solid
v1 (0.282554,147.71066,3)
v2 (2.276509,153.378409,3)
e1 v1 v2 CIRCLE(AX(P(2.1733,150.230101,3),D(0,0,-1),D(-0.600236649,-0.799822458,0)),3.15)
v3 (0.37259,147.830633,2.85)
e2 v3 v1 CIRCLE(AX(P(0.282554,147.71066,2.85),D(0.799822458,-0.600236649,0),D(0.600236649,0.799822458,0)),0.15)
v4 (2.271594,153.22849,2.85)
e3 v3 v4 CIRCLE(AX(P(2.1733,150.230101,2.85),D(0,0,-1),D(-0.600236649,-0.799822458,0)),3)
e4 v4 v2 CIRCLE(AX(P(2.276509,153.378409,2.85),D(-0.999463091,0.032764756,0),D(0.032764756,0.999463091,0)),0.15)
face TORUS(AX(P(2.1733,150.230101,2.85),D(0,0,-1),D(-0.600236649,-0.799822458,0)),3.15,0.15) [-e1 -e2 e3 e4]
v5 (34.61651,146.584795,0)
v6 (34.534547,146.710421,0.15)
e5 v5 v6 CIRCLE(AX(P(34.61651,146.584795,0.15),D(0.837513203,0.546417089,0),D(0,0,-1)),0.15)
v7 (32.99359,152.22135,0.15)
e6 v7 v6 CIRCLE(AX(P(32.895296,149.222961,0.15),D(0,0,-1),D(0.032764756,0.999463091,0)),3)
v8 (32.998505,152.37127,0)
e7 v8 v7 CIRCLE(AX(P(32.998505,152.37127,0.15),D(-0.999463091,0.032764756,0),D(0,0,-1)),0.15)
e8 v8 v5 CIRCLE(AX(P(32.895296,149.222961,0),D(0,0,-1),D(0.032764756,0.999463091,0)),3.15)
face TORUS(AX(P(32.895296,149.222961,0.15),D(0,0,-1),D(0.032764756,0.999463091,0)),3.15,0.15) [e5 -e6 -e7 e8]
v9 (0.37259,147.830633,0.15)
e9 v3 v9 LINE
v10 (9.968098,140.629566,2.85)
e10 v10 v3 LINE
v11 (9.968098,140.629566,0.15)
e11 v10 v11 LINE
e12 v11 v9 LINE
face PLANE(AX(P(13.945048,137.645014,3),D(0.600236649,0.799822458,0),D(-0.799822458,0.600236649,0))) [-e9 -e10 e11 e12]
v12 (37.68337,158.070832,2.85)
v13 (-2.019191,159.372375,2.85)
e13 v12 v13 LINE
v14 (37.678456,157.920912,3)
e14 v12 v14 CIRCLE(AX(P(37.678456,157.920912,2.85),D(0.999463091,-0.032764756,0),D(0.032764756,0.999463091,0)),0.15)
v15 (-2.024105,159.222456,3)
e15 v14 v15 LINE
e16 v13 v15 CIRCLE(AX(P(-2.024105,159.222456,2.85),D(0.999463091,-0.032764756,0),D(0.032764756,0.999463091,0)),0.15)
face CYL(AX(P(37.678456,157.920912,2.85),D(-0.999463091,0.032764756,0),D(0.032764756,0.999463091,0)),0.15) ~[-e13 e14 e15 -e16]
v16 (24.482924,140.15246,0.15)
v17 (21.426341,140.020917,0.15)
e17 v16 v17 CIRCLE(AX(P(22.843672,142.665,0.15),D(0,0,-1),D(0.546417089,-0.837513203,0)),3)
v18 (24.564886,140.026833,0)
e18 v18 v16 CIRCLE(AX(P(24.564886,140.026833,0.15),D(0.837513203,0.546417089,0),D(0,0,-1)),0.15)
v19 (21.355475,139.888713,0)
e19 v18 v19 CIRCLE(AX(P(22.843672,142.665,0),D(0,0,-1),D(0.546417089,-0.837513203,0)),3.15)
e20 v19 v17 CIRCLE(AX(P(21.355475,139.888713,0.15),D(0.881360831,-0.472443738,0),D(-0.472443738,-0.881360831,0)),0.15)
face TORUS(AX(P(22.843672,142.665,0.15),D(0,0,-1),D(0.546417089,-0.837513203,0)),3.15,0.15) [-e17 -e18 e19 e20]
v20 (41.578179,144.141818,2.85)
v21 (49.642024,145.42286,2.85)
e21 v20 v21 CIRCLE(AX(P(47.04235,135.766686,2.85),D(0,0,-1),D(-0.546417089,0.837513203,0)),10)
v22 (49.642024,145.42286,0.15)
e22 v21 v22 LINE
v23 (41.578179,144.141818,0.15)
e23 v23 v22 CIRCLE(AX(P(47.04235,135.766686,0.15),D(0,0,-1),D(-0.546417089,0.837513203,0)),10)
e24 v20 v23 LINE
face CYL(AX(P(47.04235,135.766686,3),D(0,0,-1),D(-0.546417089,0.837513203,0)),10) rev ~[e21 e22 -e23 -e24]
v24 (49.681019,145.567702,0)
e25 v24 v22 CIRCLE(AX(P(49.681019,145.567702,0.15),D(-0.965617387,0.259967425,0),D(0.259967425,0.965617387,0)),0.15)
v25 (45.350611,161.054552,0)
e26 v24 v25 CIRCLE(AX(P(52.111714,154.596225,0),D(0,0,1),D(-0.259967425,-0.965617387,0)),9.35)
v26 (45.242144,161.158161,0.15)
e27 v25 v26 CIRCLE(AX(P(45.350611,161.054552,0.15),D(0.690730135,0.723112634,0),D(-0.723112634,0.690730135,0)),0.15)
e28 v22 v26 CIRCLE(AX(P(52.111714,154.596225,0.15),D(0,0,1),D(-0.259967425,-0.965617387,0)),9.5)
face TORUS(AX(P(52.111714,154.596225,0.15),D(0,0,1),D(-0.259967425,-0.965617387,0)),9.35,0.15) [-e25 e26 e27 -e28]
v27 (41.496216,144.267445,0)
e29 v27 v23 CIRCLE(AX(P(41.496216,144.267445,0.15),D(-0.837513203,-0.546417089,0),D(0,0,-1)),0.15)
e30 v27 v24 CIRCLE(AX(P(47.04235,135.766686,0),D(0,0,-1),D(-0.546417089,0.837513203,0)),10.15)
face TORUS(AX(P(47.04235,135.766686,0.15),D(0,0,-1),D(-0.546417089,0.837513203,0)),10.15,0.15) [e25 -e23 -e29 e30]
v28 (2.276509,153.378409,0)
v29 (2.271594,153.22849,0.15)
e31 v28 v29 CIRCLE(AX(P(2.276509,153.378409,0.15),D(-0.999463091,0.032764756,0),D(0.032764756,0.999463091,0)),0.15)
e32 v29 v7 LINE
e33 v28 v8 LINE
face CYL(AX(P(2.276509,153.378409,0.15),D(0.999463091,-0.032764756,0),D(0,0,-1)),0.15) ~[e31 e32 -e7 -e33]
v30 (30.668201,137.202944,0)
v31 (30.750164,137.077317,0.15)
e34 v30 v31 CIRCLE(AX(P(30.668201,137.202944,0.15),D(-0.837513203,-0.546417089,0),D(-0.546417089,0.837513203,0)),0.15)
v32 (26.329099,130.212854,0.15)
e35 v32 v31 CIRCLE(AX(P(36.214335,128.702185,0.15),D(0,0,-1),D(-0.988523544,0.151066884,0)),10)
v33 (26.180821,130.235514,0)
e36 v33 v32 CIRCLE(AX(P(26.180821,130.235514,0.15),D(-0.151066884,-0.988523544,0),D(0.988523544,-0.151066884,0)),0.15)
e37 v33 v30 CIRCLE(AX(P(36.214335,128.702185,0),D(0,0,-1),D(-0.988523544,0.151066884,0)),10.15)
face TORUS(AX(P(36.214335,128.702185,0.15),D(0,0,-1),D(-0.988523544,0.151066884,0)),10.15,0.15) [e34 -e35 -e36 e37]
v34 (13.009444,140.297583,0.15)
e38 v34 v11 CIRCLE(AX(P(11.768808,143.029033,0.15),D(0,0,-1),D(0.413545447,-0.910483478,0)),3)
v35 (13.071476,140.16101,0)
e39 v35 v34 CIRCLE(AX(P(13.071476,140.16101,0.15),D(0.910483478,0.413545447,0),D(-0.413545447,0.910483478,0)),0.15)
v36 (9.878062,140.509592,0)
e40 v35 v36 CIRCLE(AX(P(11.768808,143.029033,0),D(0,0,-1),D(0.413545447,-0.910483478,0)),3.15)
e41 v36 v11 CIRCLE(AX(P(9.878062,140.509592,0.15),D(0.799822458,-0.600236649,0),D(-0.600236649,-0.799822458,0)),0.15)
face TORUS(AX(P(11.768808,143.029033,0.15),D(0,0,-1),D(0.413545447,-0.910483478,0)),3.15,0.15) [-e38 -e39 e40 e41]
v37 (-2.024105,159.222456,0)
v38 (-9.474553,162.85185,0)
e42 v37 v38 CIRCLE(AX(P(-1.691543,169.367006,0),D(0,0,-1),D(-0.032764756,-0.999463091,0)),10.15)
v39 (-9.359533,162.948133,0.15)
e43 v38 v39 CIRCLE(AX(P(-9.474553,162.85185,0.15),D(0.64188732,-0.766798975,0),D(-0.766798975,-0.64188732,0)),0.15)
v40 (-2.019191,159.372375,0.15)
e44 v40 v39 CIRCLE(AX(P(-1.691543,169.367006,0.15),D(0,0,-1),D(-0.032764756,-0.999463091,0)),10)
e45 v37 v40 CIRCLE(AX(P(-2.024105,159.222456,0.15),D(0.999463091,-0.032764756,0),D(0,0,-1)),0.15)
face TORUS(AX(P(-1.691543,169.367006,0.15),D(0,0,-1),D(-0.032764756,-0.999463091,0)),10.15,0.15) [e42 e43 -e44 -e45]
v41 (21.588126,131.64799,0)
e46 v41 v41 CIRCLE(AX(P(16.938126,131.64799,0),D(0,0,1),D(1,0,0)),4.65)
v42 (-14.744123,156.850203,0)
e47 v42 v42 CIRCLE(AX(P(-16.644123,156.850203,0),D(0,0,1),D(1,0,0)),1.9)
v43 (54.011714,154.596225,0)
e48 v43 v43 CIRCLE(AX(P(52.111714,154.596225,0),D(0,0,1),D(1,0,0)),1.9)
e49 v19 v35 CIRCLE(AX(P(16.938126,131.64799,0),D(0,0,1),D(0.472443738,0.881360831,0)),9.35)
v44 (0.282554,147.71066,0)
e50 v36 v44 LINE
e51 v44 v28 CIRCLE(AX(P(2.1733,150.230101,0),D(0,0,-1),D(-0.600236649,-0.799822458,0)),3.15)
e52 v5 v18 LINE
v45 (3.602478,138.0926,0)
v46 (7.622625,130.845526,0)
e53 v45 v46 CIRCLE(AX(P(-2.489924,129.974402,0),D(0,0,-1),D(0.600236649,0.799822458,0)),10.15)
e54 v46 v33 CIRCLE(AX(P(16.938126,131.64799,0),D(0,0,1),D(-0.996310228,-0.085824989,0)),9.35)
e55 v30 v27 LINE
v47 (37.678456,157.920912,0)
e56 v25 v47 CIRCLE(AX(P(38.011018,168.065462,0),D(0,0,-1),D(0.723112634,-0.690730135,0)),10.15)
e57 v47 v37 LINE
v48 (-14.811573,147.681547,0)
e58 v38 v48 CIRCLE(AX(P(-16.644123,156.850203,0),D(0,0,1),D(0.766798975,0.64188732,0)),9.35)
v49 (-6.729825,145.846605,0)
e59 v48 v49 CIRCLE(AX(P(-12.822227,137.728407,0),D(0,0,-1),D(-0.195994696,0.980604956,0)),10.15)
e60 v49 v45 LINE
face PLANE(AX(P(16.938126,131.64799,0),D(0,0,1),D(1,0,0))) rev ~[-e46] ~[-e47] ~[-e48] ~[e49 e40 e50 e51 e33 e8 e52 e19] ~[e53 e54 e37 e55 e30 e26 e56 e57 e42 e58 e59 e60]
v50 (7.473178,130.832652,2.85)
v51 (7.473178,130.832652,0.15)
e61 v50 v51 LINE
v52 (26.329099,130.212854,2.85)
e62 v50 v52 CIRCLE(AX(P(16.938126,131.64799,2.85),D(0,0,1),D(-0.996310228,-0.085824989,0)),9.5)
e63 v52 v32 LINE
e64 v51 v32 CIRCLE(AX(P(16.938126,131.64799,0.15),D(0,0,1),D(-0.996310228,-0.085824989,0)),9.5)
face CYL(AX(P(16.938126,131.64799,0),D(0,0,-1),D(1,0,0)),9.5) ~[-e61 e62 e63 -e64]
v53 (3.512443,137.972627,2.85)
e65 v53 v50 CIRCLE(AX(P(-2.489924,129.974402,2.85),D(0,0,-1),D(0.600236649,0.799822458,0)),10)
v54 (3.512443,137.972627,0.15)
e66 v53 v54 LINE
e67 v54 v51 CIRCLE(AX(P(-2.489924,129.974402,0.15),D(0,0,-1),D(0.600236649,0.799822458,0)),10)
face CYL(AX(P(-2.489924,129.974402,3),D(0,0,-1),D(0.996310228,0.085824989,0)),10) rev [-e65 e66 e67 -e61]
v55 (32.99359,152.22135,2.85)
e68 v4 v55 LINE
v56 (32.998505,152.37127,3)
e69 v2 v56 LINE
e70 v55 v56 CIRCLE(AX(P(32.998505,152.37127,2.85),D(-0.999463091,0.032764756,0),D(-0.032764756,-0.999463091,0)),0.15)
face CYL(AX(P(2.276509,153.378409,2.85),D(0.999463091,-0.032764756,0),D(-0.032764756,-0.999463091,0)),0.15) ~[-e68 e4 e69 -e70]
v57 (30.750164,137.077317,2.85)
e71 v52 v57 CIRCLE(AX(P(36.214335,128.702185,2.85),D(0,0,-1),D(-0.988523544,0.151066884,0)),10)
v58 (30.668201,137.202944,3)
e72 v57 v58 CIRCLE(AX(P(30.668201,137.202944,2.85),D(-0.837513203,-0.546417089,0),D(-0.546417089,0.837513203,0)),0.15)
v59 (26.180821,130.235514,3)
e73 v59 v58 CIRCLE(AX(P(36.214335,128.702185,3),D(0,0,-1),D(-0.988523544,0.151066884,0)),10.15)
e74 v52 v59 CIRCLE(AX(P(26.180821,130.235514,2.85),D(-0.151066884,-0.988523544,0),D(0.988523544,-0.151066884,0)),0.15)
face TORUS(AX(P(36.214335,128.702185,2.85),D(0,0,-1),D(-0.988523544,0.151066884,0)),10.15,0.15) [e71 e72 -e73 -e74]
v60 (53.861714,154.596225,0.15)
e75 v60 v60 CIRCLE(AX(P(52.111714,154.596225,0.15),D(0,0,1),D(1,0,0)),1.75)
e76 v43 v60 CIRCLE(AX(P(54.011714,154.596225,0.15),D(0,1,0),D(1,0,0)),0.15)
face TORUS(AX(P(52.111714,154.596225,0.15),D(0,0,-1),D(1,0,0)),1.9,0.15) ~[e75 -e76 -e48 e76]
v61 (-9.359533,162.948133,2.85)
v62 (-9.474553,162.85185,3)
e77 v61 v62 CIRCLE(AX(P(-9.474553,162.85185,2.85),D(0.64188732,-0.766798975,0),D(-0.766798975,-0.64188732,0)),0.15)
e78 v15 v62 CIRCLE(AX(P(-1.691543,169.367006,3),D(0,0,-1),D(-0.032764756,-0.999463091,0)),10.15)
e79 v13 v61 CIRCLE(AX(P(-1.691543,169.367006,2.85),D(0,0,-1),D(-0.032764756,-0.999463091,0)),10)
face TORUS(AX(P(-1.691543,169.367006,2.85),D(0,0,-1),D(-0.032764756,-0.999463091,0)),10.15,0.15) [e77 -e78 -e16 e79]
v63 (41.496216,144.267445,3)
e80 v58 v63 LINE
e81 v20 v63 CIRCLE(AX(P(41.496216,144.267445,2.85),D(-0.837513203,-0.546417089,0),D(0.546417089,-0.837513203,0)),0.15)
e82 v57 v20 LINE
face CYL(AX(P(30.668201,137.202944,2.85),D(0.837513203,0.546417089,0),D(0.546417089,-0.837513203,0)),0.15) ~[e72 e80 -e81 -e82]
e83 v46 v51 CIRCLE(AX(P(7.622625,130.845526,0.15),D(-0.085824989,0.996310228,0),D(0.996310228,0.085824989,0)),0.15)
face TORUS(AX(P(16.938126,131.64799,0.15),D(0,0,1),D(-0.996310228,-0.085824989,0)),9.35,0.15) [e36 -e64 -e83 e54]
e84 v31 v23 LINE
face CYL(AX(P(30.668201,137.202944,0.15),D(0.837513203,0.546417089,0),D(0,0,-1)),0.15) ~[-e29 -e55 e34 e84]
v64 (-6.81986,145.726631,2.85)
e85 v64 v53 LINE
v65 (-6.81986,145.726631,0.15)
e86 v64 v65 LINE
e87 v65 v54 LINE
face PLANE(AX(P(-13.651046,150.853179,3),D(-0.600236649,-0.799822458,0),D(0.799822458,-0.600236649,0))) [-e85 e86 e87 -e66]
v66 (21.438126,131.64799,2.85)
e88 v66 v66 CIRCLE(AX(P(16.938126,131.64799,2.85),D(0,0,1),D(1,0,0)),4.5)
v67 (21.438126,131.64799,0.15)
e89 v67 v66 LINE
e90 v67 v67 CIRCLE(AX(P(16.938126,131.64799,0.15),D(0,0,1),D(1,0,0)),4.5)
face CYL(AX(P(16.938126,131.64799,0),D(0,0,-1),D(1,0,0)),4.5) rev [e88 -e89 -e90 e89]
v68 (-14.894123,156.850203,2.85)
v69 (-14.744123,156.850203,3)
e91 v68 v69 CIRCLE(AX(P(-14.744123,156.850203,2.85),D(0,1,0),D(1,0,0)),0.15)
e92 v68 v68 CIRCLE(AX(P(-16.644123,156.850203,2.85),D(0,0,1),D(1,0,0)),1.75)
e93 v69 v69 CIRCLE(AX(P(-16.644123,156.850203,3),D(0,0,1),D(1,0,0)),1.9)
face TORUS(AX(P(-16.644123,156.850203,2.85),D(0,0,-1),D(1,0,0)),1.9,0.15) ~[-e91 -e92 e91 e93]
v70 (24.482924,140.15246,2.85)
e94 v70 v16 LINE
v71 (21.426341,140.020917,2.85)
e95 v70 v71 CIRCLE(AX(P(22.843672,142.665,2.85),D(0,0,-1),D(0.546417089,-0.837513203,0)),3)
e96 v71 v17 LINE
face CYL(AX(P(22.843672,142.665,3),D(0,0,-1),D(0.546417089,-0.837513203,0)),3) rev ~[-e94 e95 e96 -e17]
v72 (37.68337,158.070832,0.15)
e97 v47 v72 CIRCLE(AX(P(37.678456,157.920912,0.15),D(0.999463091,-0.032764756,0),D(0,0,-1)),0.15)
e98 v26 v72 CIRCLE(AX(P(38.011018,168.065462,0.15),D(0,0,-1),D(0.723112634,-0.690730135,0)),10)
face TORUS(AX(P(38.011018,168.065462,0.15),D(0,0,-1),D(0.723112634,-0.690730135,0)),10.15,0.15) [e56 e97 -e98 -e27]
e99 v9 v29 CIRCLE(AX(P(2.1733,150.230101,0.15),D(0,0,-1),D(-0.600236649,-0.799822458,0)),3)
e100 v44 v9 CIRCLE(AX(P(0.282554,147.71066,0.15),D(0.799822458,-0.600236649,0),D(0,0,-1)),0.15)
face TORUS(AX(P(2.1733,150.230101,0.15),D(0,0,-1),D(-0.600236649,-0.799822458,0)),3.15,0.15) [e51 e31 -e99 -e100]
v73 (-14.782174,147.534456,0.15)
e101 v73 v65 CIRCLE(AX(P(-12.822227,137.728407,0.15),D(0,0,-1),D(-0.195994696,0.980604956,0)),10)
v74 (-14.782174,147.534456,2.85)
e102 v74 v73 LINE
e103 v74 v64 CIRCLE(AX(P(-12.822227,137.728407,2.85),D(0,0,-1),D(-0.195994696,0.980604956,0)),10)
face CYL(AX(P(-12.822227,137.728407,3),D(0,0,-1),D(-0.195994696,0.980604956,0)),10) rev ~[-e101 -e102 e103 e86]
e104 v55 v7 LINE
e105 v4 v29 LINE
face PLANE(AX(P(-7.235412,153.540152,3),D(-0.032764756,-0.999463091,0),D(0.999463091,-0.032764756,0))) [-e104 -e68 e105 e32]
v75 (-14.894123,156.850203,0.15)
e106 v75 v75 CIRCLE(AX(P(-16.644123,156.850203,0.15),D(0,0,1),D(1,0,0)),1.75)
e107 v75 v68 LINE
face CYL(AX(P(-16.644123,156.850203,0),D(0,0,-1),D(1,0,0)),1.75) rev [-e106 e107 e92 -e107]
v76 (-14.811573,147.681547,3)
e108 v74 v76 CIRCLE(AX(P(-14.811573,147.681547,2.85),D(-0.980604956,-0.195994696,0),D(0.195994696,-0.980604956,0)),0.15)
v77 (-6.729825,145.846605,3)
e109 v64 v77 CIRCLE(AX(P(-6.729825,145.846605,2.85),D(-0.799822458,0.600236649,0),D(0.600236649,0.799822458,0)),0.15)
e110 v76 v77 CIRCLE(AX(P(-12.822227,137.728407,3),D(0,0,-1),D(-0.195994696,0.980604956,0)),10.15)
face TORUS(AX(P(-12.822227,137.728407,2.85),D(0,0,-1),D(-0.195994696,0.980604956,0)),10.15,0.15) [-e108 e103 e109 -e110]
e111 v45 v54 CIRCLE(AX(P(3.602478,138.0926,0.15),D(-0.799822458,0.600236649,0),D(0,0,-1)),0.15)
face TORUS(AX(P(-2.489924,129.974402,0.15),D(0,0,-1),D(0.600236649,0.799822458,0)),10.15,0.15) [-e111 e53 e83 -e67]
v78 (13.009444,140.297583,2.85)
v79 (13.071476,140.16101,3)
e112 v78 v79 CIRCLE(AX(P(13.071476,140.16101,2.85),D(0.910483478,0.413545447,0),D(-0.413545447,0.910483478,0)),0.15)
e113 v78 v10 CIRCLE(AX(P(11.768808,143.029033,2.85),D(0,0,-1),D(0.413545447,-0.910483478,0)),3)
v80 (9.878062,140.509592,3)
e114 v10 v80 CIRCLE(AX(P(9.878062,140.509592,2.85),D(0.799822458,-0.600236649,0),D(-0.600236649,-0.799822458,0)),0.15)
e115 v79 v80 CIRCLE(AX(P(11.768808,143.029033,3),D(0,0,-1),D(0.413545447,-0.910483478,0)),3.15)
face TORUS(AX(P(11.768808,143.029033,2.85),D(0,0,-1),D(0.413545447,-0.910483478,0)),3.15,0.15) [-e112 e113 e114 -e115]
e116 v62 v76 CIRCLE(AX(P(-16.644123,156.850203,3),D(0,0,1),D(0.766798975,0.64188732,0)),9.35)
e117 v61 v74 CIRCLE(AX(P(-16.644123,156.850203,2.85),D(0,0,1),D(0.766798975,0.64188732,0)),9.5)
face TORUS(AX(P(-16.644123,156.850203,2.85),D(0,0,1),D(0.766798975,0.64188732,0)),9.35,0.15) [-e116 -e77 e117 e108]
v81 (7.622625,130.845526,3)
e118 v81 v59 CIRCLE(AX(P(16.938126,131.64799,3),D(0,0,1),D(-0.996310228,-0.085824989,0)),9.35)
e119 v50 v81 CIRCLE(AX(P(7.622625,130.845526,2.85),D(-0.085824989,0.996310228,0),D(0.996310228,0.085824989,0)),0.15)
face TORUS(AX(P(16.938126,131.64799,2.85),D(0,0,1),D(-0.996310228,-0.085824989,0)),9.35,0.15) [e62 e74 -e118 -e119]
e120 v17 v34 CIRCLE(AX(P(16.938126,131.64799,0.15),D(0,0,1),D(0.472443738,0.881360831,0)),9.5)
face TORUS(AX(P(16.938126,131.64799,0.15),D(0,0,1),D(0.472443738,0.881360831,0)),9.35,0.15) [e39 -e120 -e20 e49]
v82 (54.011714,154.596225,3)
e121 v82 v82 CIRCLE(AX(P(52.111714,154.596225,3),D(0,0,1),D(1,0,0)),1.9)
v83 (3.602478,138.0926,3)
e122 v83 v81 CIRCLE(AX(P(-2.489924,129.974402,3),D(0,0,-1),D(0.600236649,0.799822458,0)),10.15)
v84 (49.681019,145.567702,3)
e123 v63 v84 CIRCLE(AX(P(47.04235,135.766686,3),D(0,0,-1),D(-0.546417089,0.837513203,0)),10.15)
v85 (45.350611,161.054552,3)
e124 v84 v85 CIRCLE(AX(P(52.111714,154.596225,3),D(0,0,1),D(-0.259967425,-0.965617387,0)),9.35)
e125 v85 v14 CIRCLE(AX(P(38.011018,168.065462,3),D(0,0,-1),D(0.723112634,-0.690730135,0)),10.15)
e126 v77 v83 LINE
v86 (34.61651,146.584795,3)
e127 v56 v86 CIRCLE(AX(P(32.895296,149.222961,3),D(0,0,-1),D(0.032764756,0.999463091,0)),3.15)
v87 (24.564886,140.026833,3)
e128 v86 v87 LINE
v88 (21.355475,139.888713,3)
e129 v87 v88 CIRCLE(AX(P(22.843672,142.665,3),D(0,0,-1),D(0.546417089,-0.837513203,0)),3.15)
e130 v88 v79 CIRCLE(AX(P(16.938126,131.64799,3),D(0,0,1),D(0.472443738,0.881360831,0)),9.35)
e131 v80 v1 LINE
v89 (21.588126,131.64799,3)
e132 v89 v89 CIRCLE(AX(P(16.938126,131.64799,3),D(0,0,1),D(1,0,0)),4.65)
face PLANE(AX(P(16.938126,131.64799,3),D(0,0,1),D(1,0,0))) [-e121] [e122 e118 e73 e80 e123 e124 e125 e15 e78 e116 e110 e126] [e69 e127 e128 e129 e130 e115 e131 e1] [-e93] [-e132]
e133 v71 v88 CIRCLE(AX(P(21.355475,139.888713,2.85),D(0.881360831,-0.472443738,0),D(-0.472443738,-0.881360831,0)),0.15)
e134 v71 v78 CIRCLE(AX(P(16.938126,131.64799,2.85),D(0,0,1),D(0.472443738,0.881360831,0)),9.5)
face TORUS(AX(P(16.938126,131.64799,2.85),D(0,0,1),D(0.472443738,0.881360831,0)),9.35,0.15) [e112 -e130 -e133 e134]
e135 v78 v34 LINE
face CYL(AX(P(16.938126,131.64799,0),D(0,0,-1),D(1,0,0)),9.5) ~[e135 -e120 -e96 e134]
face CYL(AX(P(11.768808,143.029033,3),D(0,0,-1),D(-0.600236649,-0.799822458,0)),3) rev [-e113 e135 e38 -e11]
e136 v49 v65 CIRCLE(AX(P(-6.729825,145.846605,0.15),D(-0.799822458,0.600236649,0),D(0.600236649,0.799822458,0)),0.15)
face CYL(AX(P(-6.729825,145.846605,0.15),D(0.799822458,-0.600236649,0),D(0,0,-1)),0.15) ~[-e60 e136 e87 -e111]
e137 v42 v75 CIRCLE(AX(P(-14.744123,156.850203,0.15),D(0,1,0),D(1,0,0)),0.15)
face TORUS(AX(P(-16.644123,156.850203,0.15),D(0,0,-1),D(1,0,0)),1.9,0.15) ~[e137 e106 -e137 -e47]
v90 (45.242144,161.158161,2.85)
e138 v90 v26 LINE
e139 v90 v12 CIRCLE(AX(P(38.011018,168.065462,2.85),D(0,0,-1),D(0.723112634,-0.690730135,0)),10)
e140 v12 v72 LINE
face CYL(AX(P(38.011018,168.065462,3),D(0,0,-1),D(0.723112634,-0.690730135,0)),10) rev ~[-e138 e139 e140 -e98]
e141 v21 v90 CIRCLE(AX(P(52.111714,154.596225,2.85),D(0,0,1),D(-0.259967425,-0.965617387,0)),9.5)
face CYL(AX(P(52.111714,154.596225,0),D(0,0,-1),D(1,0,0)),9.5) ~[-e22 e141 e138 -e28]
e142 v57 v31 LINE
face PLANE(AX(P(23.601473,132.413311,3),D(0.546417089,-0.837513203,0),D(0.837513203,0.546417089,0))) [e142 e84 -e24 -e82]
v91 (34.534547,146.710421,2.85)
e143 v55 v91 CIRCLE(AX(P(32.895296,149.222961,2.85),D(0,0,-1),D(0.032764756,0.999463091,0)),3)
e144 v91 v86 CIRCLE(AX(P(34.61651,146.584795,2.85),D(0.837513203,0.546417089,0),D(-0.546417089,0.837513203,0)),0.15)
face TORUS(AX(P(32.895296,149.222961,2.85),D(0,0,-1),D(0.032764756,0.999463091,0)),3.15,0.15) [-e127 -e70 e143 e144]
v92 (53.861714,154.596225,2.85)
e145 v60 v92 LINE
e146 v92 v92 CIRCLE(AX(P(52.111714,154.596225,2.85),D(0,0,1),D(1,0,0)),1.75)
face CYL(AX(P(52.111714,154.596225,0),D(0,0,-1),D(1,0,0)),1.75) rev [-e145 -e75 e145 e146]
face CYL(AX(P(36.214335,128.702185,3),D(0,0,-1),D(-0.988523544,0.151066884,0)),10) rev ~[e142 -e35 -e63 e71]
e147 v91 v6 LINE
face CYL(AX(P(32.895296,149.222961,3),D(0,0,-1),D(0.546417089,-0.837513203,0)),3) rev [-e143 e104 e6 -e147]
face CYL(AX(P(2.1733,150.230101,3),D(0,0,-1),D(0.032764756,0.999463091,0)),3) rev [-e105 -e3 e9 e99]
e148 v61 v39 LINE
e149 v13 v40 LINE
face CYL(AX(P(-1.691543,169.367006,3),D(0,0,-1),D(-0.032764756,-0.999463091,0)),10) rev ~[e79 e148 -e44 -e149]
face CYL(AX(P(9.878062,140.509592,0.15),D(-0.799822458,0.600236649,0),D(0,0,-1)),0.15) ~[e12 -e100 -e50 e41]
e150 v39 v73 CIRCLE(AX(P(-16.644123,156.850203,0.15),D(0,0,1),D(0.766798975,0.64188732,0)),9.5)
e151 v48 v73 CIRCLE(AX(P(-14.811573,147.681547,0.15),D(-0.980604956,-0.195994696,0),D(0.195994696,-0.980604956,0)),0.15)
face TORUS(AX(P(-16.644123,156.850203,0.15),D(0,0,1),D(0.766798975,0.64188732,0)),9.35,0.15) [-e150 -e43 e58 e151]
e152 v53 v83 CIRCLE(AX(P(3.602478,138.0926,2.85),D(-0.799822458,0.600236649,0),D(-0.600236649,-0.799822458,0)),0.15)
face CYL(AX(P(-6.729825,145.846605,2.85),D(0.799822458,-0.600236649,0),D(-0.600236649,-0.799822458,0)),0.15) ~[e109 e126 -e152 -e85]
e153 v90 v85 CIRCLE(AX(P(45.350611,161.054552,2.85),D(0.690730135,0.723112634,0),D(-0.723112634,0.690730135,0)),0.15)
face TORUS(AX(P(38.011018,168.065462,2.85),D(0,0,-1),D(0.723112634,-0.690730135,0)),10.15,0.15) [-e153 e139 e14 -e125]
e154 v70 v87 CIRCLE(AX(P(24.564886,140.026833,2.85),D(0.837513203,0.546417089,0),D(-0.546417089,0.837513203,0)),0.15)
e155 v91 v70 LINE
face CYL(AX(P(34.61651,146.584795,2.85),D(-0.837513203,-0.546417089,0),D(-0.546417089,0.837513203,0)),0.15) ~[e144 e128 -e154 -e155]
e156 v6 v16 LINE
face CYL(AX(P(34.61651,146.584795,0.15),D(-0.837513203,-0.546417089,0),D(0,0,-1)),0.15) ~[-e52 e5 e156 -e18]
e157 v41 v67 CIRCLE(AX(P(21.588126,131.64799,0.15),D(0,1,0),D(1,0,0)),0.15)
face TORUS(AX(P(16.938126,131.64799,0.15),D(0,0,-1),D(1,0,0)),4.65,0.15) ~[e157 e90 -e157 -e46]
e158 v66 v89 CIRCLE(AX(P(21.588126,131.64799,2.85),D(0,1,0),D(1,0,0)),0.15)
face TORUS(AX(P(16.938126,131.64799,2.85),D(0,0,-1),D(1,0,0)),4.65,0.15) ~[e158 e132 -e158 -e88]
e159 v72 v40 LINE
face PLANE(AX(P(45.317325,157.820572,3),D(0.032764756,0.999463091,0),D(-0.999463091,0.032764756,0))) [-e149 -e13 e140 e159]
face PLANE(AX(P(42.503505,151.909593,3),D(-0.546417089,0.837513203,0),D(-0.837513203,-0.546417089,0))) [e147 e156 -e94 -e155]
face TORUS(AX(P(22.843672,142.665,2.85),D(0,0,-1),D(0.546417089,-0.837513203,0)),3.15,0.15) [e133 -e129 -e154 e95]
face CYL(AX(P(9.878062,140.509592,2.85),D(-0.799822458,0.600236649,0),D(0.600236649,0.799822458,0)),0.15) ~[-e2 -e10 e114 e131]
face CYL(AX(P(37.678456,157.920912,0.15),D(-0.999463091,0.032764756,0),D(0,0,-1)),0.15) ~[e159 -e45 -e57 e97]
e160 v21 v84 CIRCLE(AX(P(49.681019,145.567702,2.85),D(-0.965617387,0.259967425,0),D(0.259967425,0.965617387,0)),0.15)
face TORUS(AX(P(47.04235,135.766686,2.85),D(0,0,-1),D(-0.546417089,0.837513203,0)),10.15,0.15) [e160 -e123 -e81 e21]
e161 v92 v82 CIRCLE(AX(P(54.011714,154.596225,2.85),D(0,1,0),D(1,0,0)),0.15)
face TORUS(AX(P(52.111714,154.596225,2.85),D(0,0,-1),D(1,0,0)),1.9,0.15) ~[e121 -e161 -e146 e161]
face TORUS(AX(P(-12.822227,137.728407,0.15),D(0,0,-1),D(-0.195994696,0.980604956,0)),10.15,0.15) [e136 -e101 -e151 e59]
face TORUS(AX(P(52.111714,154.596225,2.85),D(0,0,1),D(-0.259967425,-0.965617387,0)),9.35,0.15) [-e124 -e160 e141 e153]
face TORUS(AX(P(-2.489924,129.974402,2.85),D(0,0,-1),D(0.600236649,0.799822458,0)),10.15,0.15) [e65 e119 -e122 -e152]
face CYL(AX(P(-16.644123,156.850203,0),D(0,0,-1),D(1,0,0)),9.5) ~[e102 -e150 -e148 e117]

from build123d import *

# Parameters (mm, degrees)
SKETCH1_R             = 9.5
SKETCH1_R_2           = 4.5
BOSS_EXTRUDE1_DEPTH   = 3
SKETCH1_R_3           = 1.75
BOSS_EXTRUDE1_2_DEPTH = 3
BOSS_EXTRUDE1_3_DEPTH = 3
EXTRUDE_THIN1_DEPTH   = 3
FILLET1_R             = 3
FILLET2_R             = 10
FILLET3_R             = 0.15


with BuildPart() as part:
    # Sketch1 → Boss-Extrude1 (new body)
    with BuildSketch(Plane.XY):
        with Locations((16.938125623, 131.647989579)):
            Circle(SKETCH1_R)
        with Locations((16.938125623, 131.647989579)):
            Circle(SKETCH1_R_2, mode=Mode.SUBTRACT)
    extrude(amount=BOSS_EXTRUDE1_DEPTH)



with BuildPart() as body_2:
    # Sketch1 → Boss-Extrude1 2 (new body)
    with BuildSketch(Plane.XY):
        with Locations((52.111714386, 154.596224799)):
            Circle(SKETCH1_R)
        with Locations((52.111714386, 154.596224799)):
            Circle(SKETCH1_R_3, mode=Mode.SUBTRACT)
    extrude(amount=BOSS_EXTRUDE1_2_DEPTH)


with BuildPart() as body_3:
    # Sketch1 → Boss-Extrude1 3 (new body)
    with BuildSketch(Plane.XY):
        with Locations((-16.644123116, 156.850203209)):
            Circle(SKETCH1_R)
        with Locations((-16.644123116, 156.850203209)):
            Circle(SKETCH1_R_3, mode=Mode.SUBTRACT)
    extrude(amount=BOSS_EXTRUDE1_3_DEPTH)


with BuildPart() as part_1:
    add(part.part)

    add(body_2.part)  # Extrude-Thin1 merges body 2

    add(body_3.part)  # Extrude-Thin1 merges body 3
    # Sketch2 → Extrude-Thin1 (add)
    with BuildSketch(Plane.XY.offset(3)):
        Polygon((45.317324912, 157.820572492), (-9.653145107, 159.622634064), (-9.849733642, 153.625855517), (45.120736377, 151.823793944), align=None)
        Polygon((13.945048076, 137.645014029), (-10.049625673, 155.652113509), (-13.651045569, 150.853178759), (10.34362818, 132.84607928), align=None)
        Polygon((23.601473229, 132.413311247), (48.726869314, 148.805823914), (45.448366781, 153.830903131), (20.322970695, 137.438390464), align=None)
    extrude(amount=-EXTRUDE_THIN1_DEPTH)

    # Fillet1
    fillet1_edges = [part_1.edges().sort_by_distance(p)[0] for p in [
        (11.52933336, 139.457916996, 1.5),
        (-7.235411743, 153.540151883, 1.5),
        (22.848116349, 139.085866268, 1.5),
        (42.503505286, 151.909592948, 1.5),
    ]]
    fillet(fillet1_edges, radius=FILLET1_R)

    # Fillet2
    fillet2_edges = [part_1.edges().sort_by_distance(p)[0] for p in [
        (7.927913464, 134.658982246, 1.5),
        (-11.235330852, 149.040275793, 1.5),
        (-7.53679029, 159.553254965, 1.5),
        (43.200970095, 157.889951591, 1.5),
        (46.201723661, 147.15834811, 1.5),
        (26.126618882, 134.060787051, 1.5),
    ]]
    fillet(fillet2_edges, radius=FILLET2_R)

    # Fillet3
    fillet3_edges = [part_1.edges().sort_by_distance(p)[0] for p in [
        (29.508735537, 143.431440922, 3),
        (29.508735537, 143.431440922, 0),
        (17.250224022, 141.142861595, 0),
        (17.250224022, 141.142861595, 3),
        (5.170343636, 144.230099429, 0),
        (5.170343636, 144.230099429, 3),
        (17.632592176, 152.7249201, 3),
        (17.632592176, 152.7249201, 0),
        (22.972660764, 139.667774248, 3),
        (22.972660764, 139.667774248, 0),
        (11.443271365, 140.046747653, 3),
        (11.443271365, 140.046747653, 0),
        (35.78447434, 150.030828409, 0),
        (35.78447434, 150.030828409, 3),
        (-0.656677204, 151.225706459, 3),
        (-0.656677204, 151.225706459, 0),
        (17.832089903, 158.721603278, 3),
        (17.832089903, 158.721603278, 0),
        (61.260778541, 157.154471284, 3),
        (61.260778541, 157.154471284, 0),
        (36.164171271, 140.609567581, 0),
        (36.164171271, 140.609567581, 3),
        (16.626027225, 122.153117564, 0),
        (16.626027225, 122.153117564, 3),
        (-1.653708694, 141.84962902, 0),
        (-1.653708694, 141.84962902, 3),
        (-25.605716427, 160.002955234, 3),
        (-25.605716427, 160.002955234, 0),
        (41.79220908, 158.80789286, 0),
        (41.79220908, 158.80789286, 3),
        (45.473400169, 145.642838736, 0),
        (45.473400169, 145.642838736, 3),
        (27.807118638, 134.116861482, 3),
        (27.807118638, 134.116861482, 0),
        (6.254723559, 134.825293147, 3),
        (6.254723559, 134.825293147, 0),
        (-10.608102178, 147.48020914, 3),
        (-10.608102178, 147.48020914, 0),
        (-6.07093402, 160.376959505, 0),
        (-6.07093402, 160.376959505, 3),
        (-18.394123116, 156.850203209, 0),
        (-18.394123116, 156.850203209, 3),
        (12.438125623, 131.647989579, 0),
        (12.438125623, 131.647989579, 3),
        (50.361714386, 154.596224799, 0),
        (50.361714386, 154.596224799, 3),
    ]]
    fillet(fillet3_edges, radius=FILLET3_R)


solid = part_1.part
